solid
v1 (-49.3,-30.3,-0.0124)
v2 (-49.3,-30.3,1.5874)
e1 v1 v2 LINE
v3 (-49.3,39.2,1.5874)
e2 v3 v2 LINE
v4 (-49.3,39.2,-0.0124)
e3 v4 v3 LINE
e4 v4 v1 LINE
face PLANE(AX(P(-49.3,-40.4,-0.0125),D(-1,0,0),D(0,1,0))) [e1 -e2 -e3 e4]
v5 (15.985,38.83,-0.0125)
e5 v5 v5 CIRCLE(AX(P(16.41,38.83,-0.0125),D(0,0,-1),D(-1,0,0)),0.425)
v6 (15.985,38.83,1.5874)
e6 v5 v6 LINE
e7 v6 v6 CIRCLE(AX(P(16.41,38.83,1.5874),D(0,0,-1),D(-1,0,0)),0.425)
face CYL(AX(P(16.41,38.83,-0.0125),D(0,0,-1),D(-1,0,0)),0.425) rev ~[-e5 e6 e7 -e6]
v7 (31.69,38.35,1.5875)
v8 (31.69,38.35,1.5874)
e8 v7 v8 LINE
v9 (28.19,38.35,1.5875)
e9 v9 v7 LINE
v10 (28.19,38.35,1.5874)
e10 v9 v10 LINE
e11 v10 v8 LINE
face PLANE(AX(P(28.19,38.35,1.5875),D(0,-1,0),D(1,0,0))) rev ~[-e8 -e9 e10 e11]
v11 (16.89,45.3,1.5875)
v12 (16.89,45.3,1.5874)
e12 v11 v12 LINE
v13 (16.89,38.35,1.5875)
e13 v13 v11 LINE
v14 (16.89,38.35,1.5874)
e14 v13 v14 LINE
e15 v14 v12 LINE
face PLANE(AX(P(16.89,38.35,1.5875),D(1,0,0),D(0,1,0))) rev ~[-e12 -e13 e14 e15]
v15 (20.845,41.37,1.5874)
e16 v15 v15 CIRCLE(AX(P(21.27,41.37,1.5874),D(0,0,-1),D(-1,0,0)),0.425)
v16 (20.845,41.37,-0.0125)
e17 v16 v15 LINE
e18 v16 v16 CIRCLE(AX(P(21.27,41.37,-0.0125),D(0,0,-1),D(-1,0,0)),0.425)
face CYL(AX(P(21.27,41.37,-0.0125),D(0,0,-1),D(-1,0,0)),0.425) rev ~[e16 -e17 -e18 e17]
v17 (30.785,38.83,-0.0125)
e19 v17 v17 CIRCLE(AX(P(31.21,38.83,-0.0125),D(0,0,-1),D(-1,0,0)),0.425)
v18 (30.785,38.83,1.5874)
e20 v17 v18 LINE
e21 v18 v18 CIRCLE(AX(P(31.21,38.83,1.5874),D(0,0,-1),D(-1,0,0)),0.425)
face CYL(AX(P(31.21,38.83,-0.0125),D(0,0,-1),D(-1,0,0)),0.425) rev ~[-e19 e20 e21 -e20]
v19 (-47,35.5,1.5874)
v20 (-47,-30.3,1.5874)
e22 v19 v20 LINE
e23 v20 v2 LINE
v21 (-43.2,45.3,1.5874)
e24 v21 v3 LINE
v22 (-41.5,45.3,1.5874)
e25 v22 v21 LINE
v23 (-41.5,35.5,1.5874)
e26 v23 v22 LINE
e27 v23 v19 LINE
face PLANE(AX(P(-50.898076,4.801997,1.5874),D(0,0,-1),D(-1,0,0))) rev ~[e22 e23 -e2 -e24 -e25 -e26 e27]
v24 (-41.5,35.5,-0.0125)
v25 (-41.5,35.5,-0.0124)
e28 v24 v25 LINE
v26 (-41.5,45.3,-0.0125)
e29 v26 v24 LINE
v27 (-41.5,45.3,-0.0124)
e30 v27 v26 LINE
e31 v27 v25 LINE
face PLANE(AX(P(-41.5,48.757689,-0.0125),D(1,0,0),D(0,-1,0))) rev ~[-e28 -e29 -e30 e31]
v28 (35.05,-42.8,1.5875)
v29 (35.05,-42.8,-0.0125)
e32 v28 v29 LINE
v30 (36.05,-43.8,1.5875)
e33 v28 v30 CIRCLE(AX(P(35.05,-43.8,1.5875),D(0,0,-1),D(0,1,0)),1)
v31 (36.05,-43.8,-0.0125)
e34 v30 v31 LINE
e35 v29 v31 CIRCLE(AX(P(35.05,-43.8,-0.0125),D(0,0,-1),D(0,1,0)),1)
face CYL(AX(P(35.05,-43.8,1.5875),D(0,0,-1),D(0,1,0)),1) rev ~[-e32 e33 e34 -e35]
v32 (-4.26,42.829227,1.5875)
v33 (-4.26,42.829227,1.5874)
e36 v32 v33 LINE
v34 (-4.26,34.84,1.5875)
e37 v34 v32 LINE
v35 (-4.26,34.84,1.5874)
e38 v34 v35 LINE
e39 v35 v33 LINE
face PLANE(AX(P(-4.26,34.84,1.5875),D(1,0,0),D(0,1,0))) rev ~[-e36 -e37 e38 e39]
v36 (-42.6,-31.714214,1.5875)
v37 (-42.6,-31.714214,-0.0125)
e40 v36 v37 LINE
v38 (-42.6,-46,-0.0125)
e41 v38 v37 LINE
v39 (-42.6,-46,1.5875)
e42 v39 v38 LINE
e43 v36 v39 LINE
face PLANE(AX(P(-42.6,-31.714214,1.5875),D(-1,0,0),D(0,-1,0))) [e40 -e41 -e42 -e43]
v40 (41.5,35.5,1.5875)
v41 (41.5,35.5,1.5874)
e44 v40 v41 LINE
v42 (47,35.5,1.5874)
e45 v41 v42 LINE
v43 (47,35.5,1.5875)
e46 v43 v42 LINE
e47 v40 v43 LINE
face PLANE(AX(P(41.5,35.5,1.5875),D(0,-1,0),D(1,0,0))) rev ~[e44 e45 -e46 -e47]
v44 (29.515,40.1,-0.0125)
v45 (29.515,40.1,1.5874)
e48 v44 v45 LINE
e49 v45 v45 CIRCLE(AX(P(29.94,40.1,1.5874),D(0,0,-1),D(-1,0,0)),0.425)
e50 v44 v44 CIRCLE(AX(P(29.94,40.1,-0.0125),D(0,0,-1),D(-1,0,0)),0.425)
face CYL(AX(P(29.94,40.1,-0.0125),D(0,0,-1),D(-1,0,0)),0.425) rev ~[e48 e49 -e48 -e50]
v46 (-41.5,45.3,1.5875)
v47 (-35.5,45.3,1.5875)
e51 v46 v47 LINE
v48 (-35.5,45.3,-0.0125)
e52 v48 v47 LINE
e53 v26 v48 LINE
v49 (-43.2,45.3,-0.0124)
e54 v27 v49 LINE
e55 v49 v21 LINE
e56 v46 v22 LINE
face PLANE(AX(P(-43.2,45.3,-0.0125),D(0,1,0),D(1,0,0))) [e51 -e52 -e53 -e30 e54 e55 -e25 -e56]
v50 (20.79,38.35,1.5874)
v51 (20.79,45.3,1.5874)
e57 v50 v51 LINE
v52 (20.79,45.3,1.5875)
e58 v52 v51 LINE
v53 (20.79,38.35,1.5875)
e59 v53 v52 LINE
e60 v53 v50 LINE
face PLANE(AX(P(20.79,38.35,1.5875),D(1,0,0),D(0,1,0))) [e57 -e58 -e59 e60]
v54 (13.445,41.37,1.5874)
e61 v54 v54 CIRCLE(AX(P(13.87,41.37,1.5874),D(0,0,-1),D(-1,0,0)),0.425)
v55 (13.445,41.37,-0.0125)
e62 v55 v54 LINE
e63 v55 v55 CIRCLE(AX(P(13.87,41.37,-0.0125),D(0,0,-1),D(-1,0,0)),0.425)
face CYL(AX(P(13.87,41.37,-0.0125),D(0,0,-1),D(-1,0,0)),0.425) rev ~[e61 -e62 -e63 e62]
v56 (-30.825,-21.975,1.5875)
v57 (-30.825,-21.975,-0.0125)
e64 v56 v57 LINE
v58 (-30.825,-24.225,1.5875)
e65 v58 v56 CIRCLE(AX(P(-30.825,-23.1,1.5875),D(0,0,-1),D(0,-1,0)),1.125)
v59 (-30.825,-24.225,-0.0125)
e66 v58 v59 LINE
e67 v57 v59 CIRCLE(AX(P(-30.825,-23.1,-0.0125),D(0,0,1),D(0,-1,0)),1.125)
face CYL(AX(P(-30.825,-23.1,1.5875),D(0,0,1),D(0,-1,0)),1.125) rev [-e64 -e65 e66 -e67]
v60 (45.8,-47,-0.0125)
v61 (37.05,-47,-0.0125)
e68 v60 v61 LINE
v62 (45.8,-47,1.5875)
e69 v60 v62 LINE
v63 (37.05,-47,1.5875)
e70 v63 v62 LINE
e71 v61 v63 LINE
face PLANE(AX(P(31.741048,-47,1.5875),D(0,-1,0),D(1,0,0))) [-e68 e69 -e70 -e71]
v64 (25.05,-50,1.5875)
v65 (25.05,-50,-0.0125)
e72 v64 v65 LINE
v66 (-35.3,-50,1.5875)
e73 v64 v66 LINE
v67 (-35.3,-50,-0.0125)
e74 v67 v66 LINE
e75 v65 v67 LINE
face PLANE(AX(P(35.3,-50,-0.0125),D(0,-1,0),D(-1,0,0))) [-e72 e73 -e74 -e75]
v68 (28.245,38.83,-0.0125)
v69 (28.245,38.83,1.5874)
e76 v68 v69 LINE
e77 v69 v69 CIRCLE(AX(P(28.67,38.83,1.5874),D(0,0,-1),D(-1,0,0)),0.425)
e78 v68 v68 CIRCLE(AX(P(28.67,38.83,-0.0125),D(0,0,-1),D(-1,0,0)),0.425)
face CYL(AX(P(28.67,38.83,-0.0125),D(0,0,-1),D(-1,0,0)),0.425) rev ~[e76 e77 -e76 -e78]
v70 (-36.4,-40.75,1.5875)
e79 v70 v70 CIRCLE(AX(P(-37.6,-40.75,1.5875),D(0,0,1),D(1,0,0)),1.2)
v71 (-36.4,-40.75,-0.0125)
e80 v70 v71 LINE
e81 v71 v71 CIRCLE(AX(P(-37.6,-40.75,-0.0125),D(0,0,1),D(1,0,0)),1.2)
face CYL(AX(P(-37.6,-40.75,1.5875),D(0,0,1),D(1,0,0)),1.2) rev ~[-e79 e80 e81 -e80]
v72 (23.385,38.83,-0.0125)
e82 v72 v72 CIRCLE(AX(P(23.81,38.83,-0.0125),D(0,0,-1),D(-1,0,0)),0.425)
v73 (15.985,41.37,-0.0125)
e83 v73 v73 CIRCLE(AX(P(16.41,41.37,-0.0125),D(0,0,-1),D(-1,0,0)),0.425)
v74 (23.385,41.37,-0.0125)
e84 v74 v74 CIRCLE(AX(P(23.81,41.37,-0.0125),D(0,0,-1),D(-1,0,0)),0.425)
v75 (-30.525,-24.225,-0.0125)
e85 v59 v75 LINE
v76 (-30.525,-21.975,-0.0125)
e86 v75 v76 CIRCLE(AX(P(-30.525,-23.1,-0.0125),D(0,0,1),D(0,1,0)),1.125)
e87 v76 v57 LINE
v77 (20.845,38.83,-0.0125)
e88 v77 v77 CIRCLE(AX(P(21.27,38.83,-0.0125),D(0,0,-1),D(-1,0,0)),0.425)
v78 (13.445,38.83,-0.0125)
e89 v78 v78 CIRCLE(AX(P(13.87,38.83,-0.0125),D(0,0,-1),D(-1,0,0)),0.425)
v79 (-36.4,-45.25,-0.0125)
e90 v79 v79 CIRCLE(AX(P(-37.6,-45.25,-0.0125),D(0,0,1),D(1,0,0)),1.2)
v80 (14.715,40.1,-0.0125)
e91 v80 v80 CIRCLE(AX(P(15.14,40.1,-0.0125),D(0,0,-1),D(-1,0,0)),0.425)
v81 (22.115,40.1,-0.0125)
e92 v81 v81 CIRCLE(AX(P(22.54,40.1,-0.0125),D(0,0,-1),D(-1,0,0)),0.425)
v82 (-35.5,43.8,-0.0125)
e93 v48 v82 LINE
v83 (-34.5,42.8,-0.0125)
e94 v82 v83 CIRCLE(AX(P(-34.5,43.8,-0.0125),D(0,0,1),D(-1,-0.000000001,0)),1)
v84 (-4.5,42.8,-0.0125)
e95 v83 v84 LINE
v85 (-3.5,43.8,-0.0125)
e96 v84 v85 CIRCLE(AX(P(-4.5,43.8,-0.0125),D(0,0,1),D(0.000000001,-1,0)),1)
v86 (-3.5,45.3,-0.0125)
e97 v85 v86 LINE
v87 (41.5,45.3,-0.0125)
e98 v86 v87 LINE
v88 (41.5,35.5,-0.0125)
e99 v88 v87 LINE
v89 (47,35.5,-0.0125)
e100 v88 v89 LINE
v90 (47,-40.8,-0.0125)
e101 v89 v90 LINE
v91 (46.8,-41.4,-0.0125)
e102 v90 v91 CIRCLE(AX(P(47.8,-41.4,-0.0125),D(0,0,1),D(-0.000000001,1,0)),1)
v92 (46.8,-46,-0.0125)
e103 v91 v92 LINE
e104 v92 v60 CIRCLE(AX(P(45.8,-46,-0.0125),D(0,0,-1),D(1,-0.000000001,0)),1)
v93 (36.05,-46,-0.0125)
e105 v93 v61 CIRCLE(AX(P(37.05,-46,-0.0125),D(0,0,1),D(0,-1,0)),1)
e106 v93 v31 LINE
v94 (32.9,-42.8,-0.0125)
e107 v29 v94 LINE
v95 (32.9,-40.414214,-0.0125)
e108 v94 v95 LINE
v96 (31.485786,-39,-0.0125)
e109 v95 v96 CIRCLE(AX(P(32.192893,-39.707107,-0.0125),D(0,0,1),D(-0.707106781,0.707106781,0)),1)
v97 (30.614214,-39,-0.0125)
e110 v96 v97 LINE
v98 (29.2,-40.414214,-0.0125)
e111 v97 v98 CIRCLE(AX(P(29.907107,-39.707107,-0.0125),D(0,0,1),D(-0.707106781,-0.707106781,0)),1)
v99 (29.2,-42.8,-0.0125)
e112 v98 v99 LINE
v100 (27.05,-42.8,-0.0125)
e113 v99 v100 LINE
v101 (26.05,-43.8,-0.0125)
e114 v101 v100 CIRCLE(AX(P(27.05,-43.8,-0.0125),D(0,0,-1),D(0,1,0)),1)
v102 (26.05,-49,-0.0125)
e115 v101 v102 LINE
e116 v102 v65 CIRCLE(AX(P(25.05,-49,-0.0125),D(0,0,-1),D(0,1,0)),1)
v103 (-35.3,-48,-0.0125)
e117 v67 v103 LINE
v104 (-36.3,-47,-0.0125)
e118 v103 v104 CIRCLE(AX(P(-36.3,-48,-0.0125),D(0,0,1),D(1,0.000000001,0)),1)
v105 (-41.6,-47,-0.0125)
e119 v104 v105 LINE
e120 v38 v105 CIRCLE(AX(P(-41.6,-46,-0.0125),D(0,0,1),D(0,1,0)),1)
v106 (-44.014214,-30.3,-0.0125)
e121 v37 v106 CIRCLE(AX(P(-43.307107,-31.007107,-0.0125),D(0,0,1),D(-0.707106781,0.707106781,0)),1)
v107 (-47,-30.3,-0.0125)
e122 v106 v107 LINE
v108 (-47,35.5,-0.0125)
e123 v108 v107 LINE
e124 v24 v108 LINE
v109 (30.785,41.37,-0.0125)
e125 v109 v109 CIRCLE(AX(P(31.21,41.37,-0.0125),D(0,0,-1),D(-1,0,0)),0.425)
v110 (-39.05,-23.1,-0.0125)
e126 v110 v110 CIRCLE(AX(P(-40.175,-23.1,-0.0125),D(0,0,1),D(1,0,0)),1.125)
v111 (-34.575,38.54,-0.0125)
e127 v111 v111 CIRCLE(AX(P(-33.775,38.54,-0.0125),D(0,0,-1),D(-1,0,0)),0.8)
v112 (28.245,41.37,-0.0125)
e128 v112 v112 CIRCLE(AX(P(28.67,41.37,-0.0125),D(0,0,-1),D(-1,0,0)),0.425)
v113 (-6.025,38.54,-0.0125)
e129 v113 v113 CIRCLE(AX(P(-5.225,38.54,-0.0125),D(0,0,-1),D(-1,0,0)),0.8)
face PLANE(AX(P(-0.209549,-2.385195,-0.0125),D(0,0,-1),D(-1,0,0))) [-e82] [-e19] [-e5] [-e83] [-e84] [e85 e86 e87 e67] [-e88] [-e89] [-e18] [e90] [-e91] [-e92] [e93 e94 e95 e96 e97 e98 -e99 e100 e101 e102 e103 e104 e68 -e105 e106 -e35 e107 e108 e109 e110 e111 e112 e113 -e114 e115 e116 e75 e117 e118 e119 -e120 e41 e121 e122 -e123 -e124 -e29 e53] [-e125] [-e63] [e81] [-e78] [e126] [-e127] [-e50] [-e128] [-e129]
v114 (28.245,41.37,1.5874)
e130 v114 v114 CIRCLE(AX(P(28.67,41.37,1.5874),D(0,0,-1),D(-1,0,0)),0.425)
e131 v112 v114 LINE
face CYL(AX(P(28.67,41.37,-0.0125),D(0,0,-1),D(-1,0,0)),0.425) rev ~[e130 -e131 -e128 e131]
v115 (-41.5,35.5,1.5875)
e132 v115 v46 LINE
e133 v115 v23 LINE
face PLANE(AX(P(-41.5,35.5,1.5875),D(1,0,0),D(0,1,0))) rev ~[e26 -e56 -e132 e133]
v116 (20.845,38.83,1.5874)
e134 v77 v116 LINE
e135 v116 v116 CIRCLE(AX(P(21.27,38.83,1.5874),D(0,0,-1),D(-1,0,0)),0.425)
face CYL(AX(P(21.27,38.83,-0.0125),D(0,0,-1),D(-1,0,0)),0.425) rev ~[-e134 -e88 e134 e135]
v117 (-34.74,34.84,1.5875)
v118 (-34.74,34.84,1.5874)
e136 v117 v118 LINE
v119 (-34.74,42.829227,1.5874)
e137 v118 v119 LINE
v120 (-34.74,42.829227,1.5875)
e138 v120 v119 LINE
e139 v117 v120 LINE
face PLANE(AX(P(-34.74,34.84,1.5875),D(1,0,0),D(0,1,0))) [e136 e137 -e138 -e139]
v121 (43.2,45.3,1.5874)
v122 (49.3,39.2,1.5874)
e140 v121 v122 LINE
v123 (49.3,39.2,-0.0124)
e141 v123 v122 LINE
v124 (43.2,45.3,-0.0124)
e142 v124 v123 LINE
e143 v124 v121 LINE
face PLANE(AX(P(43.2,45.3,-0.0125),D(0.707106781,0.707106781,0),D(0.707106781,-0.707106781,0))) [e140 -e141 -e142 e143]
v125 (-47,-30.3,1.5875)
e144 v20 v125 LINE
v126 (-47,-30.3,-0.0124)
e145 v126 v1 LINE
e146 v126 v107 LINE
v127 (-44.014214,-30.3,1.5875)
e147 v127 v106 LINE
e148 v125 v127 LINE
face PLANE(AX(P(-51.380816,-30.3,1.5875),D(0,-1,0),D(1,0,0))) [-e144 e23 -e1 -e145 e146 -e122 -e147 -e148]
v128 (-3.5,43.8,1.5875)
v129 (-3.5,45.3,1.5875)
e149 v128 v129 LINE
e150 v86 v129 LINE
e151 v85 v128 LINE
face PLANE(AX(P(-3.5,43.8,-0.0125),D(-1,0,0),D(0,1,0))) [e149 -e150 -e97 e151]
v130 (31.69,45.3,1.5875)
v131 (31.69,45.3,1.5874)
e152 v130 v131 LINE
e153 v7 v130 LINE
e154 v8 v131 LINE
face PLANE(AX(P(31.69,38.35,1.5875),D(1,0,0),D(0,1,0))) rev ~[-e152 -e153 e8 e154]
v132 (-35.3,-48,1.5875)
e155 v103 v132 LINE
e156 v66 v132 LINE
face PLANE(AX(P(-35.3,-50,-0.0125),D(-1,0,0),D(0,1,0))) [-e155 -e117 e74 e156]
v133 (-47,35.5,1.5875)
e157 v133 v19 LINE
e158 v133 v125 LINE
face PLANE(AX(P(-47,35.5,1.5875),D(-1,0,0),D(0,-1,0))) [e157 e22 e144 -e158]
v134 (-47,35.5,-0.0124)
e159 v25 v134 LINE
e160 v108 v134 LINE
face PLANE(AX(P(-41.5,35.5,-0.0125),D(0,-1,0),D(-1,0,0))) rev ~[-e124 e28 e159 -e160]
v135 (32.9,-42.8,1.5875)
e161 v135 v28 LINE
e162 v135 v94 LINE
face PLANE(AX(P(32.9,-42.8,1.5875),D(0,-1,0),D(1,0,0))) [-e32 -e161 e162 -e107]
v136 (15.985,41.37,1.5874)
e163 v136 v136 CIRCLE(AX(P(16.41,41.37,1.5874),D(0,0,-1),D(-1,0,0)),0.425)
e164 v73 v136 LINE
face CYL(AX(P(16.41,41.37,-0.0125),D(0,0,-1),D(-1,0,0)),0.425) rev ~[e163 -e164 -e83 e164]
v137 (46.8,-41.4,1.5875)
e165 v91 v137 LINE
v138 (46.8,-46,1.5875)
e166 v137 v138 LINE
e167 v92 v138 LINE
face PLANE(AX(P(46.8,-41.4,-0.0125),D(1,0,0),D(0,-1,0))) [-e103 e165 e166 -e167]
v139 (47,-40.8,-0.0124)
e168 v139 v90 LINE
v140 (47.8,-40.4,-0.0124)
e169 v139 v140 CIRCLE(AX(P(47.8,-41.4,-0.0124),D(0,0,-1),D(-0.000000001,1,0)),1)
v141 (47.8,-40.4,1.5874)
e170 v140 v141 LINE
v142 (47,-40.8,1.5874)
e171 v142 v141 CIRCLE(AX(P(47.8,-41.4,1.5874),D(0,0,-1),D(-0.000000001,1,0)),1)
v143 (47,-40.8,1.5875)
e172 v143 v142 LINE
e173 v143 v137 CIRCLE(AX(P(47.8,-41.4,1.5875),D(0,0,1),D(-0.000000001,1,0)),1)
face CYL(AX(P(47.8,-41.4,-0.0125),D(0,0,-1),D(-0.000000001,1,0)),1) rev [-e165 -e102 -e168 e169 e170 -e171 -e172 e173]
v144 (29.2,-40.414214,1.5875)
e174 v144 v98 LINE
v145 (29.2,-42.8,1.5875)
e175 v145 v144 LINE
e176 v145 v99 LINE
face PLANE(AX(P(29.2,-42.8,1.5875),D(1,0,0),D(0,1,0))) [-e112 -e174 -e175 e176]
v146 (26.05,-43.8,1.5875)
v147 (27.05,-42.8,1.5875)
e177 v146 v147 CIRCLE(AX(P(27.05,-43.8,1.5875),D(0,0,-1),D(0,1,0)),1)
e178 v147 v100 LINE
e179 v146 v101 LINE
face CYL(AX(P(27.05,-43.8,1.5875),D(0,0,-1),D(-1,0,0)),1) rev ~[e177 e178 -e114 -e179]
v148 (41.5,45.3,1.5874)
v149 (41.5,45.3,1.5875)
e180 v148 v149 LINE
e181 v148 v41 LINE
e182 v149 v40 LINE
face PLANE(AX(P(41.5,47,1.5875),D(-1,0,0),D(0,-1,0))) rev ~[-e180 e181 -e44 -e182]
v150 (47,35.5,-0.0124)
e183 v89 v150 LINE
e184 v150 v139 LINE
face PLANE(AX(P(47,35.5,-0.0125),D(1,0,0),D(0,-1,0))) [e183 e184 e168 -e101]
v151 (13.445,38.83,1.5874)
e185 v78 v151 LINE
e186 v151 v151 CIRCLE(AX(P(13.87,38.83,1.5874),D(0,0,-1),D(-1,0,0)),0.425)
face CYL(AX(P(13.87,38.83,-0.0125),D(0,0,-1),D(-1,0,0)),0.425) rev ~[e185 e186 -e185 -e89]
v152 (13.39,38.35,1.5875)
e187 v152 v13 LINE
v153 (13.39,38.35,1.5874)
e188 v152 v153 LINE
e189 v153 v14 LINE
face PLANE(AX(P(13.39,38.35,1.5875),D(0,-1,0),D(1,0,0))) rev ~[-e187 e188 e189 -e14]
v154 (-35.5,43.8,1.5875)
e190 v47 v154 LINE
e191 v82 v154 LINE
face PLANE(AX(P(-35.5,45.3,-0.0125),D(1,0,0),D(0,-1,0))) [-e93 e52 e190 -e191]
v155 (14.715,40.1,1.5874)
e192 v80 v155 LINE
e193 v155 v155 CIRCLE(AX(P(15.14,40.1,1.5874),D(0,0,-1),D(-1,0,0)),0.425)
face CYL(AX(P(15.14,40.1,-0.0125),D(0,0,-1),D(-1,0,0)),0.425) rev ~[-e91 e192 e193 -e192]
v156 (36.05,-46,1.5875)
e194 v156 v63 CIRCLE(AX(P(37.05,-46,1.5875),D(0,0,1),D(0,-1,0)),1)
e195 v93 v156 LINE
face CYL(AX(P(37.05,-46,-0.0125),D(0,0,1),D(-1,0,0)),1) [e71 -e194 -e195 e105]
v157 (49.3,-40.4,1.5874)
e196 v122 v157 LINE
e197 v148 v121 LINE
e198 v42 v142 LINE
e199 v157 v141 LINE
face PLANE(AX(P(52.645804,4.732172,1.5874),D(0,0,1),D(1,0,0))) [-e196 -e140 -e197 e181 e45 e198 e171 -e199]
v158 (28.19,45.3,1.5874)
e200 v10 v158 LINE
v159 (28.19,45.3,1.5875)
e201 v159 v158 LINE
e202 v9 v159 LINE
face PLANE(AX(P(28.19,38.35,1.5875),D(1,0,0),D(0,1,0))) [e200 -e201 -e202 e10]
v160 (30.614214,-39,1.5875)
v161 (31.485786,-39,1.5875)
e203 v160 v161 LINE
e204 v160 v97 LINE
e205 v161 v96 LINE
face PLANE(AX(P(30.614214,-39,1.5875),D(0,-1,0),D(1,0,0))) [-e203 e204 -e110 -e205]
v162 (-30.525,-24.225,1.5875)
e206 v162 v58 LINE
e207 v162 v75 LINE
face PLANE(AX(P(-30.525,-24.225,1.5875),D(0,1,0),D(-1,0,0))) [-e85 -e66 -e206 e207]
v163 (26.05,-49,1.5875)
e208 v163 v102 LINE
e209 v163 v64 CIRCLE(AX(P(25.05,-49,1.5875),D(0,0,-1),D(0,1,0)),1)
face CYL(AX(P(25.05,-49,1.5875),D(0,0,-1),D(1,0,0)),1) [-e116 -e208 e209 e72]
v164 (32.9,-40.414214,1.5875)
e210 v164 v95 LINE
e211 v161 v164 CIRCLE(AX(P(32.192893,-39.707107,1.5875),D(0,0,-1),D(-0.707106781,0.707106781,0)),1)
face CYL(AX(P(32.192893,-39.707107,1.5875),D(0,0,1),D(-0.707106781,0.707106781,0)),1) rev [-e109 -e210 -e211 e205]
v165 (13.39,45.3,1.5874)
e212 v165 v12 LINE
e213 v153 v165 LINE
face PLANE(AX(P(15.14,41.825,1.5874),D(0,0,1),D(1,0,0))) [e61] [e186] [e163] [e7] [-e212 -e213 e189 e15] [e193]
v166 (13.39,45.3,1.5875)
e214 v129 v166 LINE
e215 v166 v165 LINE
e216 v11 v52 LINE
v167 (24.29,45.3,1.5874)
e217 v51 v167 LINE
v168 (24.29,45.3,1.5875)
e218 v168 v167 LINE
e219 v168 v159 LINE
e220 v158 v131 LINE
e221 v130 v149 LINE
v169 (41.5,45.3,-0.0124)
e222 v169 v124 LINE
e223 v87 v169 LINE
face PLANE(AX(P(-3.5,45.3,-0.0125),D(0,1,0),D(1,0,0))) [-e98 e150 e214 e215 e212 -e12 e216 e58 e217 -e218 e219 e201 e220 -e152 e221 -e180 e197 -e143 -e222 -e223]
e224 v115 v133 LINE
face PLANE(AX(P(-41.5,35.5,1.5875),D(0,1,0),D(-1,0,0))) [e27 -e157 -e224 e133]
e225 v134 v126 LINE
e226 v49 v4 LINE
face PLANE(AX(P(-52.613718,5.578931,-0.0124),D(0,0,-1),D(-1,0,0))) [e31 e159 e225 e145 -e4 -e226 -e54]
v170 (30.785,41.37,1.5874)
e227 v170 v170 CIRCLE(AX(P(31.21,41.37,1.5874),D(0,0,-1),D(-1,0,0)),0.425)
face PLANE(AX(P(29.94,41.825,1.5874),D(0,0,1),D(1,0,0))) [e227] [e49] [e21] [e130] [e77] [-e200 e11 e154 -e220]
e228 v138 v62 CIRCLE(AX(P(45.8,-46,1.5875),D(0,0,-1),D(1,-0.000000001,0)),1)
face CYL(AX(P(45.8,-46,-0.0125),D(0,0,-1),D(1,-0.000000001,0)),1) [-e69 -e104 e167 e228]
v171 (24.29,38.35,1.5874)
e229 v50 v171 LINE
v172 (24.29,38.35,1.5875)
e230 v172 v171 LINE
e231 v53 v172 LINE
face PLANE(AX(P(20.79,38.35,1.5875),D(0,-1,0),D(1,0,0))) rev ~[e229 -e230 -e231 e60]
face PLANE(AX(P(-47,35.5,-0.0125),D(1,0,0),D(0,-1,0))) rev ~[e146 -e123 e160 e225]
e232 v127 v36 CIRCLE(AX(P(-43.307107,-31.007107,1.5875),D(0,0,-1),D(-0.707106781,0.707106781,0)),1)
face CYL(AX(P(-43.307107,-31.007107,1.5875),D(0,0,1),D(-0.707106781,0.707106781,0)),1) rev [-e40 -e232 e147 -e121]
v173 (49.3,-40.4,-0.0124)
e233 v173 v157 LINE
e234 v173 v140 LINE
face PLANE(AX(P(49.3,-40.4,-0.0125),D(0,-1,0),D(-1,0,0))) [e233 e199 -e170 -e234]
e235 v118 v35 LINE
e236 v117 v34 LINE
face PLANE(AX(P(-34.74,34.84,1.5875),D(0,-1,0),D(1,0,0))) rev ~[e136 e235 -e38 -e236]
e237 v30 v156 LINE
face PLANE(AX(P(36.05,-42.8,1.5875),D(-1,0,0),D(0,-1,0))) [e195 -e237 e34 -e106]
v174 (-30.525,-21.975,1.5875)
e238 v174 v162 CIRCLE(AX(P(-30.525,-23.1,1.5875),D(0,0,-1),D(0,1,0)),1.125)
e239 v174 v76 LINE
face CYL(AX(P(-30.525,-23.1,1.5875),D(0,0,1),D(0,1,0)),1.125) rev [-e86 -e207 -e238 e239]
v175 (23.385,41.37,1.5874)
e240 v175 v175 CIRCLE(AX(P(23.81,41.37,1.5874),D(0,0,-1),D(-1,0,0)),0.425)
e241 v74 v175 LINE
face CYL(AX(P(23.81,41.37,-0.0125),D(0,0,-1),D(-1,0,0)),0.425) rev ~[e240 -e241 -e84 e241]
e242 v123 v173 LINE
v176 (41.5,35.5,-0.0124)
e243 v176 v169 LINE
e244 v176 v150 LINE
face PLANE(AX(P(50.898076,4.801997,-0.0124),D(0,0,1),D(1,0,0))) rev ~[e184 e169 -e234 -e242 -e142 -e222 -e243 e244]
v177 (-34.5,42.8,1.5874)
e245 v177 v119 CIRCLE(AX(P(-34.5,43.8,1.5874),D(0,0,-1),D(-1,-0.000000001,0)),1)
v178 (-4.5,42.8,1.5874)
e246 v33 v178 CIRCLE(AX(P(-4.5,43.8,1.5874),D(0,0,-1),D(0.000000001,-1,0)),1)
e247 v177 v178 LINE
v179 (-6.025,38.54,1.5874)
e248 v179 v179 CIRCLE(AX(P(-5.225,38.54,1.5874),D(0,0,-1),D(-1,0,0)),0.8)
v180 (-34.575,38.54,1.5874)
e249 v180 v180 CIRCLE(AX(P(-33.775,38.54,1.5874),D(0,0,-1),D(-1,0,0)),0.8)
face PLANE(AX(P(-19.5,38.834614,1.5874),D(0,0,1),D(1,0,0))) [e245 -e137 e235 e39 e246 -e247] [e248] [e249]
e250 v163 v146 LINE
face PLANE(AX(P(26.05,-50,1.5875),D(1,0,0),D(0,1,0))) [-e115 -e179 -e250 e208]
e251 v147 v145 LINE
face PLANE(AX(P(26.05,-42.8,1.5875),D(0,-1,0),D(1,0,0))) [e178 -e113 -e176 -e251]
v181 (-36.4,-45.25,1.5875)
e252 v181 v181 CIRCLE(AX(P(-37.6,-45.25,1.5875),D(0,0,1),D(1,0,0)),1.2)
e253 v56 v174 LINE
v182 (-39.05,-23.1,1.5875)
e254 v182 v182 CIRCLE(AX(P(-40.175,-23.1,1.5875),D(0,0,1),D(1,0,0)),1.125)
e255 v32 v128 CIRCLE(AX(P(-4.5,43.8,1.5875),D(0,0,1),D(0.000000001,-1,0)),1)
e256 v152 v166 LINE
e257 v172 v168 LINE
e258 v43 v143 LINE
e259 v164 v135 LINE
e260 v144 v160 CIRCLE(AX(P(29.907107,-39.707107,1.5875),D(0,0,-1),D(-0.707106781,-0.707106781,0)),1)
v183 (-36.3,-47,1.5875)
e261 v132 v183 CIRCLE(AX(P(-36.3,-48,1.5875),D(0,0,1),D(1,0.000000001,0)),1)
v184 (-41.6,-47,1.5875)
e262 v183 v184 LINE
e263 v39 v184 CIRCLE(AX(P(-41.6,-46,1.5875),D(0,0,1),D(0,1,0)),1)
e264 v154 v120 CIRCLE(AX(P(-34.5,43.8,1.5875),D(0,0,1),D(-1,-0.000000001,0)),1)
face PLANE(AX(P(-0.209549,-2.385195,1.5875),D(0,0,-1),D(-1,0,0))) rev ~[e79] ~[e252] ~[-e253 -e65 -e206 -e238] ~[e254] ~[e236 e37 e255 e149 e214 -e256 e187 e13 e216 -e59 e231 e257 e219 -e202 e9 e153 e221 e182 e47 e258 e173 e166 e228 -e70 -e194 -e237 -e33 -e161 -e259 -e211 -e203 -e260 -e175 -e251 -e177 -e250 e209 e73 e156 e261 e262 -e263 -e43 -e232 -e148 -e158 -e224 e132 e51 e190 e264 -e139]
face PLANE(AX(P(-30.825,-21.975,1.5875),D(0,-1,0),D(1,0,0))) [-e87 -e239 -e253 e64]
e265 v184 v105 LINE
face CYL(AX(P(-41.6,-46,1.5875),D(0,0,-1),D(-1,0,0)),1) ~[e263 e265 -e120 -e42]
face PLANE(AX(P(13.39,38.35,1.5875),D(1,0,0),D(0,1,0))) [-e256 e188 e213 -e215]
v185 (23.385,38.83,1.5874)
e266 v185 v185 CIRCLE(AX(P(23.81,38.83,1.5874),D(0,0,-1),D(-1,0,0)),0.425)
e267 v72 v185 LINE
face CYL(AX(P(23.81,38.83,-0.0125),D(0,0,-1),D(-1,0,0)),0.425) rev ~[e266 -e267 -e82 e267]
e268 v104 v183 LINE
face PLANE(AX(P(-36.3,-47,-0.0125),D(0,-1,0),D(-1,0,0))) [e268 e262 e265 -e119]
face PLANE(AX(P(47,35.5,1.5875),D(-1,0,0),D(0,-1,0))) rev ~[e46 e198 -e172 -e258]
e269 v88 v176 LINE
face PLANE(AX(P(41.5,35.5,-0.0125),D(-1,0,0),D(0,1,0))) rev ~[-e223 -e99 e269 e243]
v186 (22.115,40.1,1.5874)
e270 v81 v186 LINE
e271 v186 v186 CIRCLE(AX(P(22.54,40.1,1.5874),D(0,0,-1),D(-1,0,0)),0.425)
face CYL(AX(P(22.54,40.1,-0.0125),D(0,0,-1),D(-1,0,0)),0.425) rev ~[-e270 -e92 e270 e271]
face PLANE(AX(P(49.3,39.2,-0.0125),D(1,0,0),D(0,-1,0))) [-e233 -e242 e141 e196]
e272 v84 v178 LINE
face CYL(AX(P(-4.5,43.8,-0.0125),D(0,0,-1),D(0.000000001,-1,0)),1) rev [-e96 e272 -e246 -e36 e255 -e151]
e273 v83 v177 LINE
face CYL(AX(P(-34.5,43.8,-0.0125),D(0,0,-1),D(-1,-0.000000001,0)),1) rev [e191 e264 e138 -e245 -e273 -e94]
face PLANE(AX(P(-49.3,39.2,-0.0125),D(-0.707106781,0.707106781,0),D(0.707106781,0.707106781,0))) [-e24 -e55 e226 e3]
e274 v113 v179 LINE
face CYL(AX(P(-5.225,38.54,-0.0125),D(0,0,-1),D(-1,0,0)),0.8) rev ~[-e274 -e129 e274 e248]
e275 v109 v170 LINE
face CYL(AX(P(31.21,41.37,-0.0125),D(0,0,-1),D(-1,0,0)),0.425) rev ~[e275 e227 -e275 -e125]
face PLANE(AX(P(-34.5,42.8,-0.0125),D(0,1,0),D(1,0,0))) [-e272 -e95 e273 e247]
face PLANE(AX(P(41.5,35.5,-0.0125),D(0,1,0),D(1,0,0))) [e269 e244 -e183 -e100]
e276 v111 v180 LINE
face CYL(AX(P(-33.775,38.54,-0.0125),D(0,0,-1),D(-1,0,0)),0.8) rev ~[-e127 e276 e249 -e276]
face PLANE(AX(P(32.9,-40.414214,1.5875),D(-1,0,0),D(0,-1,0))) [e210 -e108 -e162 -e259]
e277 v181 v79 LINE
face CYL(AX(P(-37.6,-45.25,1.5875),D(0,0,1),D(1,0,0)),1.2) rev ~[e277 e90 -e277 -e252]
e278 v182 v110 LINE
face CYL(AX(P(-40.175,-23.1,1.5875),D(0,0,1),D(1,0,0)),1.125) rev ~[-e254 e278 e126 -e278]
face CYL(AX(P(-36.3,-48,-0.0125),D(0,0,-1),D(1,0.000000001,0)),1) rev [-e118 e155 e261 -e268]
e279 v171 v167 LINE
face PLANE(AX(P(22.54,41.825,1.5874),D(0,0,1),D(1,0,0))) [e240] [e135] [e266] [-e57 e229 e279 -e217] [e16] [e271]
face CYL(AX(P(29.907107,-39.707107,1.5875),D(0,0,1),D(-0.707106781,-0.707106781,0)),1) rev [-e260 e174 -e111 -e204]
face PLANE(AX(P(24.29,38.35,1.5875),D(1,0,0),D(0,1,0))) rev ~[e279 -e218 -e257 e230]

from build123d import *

# Parameters (mm, degrees)
SKETCH1_R           = 0.425
SKETCH1_R_2         = 0.8
BOSS_EXTRUDE1_DEPTH = 1.6
CUT_EXTRUDE1_DEPTH  = 0.0001
CUT_EXTRUDE2_DEPTH  = 0.0001
PARTFOOTPRINTS_W    = 30.48
PARTFOOTPRINTS_H    = 7.989227112
PARTFOOTPRINTS_W_2  = 3.5
PARTFOOTPRINTS_H_2  = 6.95
CUT_EXTRUDE3_DEPTH  = 0.0001
CUT_EXTRUDE4_DEPTH  = 2.6
SKETCH3_W           = 7.779754111
SKETCH3_H           = 5.155241991
CUT_EXTRUDE5_DEPTH  = 10
FILLET1_R           = 1
CUT_EXTRUDE6_DEPTH  = 2.6
FILLET2_R           = 1
SKETCH5_R           = 1.125
CUT_EXTRUDE7_DEPTH  = 2.6
SKETCH6_R           = 1.2
CUT_EXTRUDE8_DEPTH  = 2.6


with BuildPart() as part:
    # Sketch1 → Boss-Extrude1 (new body)
    with BuildSketch(Plane(origin=(0, 0, -0.0125), x_dir=(-1, 0, 0), z_dir=(0, 0, -1))):
        with BuildLine():
            Line((35.3, -50), (35.3, -48))
            ThreePointArc((35.3, -48), (35.592893219, -47.292893219), (36.3, -47))
            Line((36.3, -47), (45.8, -47))
            ThreePointArc((45.8, -47), (46.507106781, -46.707106781), (46.8, -46))
            Line((46.8, -46), (46.8, -41.4))
            ThreePointArc((46.8, -41.4), (47.092893219, -40.692893219), (47.8, -40.4))
            Line((47.8, -40.4), (49.3, -40.4))
            Line((49.3, -40.4), (49.3, 39.2))
            Line((49.3, 39.2), (43.2, 45.3))
            Line((43.2, 45.3), (35.500000002, 45.3))
            Line((35.500000002, 45.3), (35.500000002, 43.8))
            ThreePointArc((35.500000002, 43.8), (35.207106783, 43.092893219), (34.500000002, 42.8))
            Line((34.500000002, 42.8), (4.499999998, 42.8))
            ThreePointArc((4.499999998, 42.8), (3.792893217, 43.092893219), (3.499999998, 43.8))
            Line((3.499999998, 43.8), (3.499999998, 45.3))
            Line((3.499999998, 45.3), (-43.2, 45.3))
            Line((-43.2, 45.3), (-49.3, 39.2))
            Line((-49.3, 39.2), (-49.3, -40.4))
            Line((-49.3, -40.4), (-47.8, -40.4))
            ThreePointArc((-47.8, -40.4), (-47.092893219, -40.692893219), (-46.8, -41.4))
            Line((-46.8, -41.4), (-46.8, -46))
            ThreePointArc((-46.8, -46), (-46.507106781, -46.707106781), (-45.8, -47))
            Line((-45.8, -47), (-36.3, -47))
            ThreePointArc((-36.3, -47), (-35.592893219, -47.292893219), (-35.3, -48))
            Line((-35.3, -48), (-35.3, -50))
            Line((-35.3, -50), (35.3, -50))
        make_face()
        with Locations((-21.27, 41.37)):
            Circle(SKETCH1_R, mode=Mode.SUBTRACT)
        with Locations((-23.81, 41.37)):
            Circle(SKETCH1_R, mode=Mode.SUBTRACT)
        with Locations((-22.54, 40.1)):
            Circle(SKETCH1_R, mode=Mode.SUBTRACT)
        with Locations((-13.87, 41.37)):
            Circle(SKETCH1_R, mode=Mode.SUBTRACT)
        with Locations((-23.81, 38.83)):
            Circle(SKETCH1_R, mode=Mode.SUBTRACT)
        with Locations((-16.41, 41.37)):
            Circle(SKETCH1_R, mode=Mode.SUBTRACT)
        with Locations((-15.14, 40.1)):
            Circle(SKETCH1_R, mode=Mode.SUBTRACT)
        with Locations((-21.27, 38.83)):
            Circle(SKETCH1_R, mode=Mode.SUBTRACT)
        with Locations((-28.67, 41.37)):
            Circle(SKETCH1_R, mode=Mode.SUBTRACT)
        with Locations((-31.21, 41.37)):
            Circle(SKETCH1_R, mode=Mode.SUBTRACT)
        with Locations((-16.41, 38.83)):
            Circle(SKETCH1_R, mode=Mode.SUBTRACT)
        with Locations((-29.94, 40.1)):
            Circle(SKETCH1_R, mode=Mode.SUBTRACT)
        with Locations((-31.21, 38.83)):
            Circle(SKETCH1_R, mode=Mode.SUBTRACT)
        with Locations((-28.67, 38.83)):
            Circle(SKETCH1_R, mode=Mode.SUBTRACT)
        with Locations((33.775, 38.54)):
            Circle(SKETCH1_R_2, mode=Mode.SUBTRACT)
        with Locations((5.225, 38.54)):
            Circle(SKETCH1_R_2, mode=Mode.SUBTRACT)
        with Locations((-13.87, 38.83)):
            Circle(SKETCH1_R, mode=Mode.SUBTRACT)
    extrude(amount=-BOSS_EXTRUDE1_DEPTH)

    # thermalContacts_lower → Cut-Extrude1 (cut)
    with BuildSketch(Plane(origin=(0, 0, -0.0125), x_dir=(-1, 0, 0), z_dir=(0, 0, -1))):
        Polygon((47, 35.5), (47, -41.5), (59.827263463, -41.5), (59.827263463, 48.757689229), (41.5, 48.757689229), (41.5, 41.5), (41.5, 35.5), align=None)
        Polygon((-47, 35.5), (-47, -41.5), (-56.192158269, -41.5), (-56.192158269, 47), (-41.5, 47), (-41.5, 41.5), (-41.5, 35.5), align=None)
    extrude(amount=-CUT_EXTRUDE1_DEPTH, mode=Mode.SUBTRACT)

    # thermalContacts_upper → Cut-Extrude2 (cut)
    with BuildSketch(Plane.XY.offset(1.5875)):
        Polygon((-47, 35.5), (-47, -41.5), (-56.192158269, -41.5), (-56.192158269, 47), (-41.5, 47), (-41.5, 41.5), (-41.5, 35.5), align=None)
        Polygon((47, 35.5), (47, -41.5), (59.827263463, -41.5), (59.827263463, 47), (41.5, 47), (41.5, 41.5), (41.5, 35.5), align=None)
    extrude(amount=-CUT_EXTRUDE2_DEPTH, mode=Mode.SUBTRACT)

    # partFootprints → Cut-Extrude3 (cut)
    with BuildSketch(Plane.XY.offset(1.5875)):
        with Locations((-19.5, 38.834613556)):
            Rectangle(PARTFOOTPRINTS_W, PARTFOOTPRINTS_H)
        with Locations((15.14, 41.825)):
            Rectangle(PARTFOOTPRINTS_W_2, PARTFOOTPRINTS_H_2)
        with Locations((22.54, 41.825)):
            Rectangle(PARTFOOTPRINTS_W_2, PARTFOOTPRINTS_H_2)
        with Locations((29.94, 41.825)):
            Rectangle(PARTFOOTPRINTS_W_2, PARTFOOTPRINTS_H_2)
    extrude(amount=-CUT_EXTRUDE3_DEPTH, mode=Mode.SUBTRACT)

    # Sketch2 → Cut-Extrude4 (cut, through all)
    with BuildSketch(Plane.XY.offset(1.5875)):
        with BuildLine():
            Line((29.2, -42.8), (29.2, -40.414213562))
            ThreePointArc((29.2, -40.414213562), (29.2, -39), (30.614213562, -39))
            Line((30.614213562, -39), (31.485786438, -39))
            ThreePointArc((31.485786438, -39), (32.9, -39), (32.9, -40.414213562))
            Line((32.9, -40.414213562), (32.9, -42.8))
            Line((32.9, -42.8), (36.05, -42.8))
            Line((36.05, -42.8), (36.05, -50))
            Line((36.05, -50), (26.05, -50))
            Line((26.05, -50), (26.05, -42.8))
            Line((26.05, -42.8), (29.2, -42.8))
        make_face()
    extrude(amount=-CUT_EXTRUDE4_DEPTH, mode=Mode.SUBTRACT)

    # Sketch3 → Cut-Extrude5 (cut)
    with BuildSketch(Plane.XY.offset(1.5875)):
        with Locations((35.630924609, -49.577620995)):
            Rectangle(SKETCH3_W, SKETCH3_H)
    extrude(amount=-CUT_EXTRUDE5_DEPTH, mode=Mode.SUBTRACT)

    # Fillet1
    fillet1_edges = [part.edges().sort_by_distance(p)[0] for p in [
        (26.05, -50, 0.7875),
        (26.05, -42.8, 0.7875),
        (36.05, -42.8, 0.7875),
        (36.05, -47, 0.7875),
    ]]
    fillet(fillet1_edges, radius=FILLET1_R)

    # Sketch4 → Cut-Extrude6 (cut, through all)
    with BuildSketch(Plane.XY.offset(1.5875)):
        with BuildLine():
            Line((-51.38081647, -30.3), (-44.014213562, -30.3))
            ThreePointArc((-44.014213562, -30.3), (-42.6, -30.3), (-42.6, -31.714213562))
            Line((-42.6, -31.714213562), (-42.6, -47))
            Line((-42.6, -47), (-51.38081647, -47))
            Line((-51.38081647, -47), (-51.38081647, -30.3))
        make_face()
    extrude(amount=-CUT_EXTRUDE6_DEPTH, mode=Mode.SUBTRACT)

    # Fillet2
    fillet2_edges = [part.edges().sort_by_distance(p)[0] for p in [
        (-42.6, -47, 0.7875),
    ]]
    fillet(fillet2_edges, radius=FILLET2_R)

    # Sketch5 → Cut-Extrude7 (cut, through all)
    with BuildSketch(Plane.XY.offset(1.5875)):
        with Locations((-40.175, -23.1)):
            Circle(SKETCH5_R)
        with BuildLine():
            Line((-30.525, -24.225), (-30.825, -24.225))
            ThreePointArc((-30.825, -24.225), (-31.95, -23.1), (-30.825, -21.975))
            Line((-30.825, -21.975), (-30.525, -21.975))
            ThreePointArc((-30.525, -21.975), (-29.4, -23.1), (-30.525, -24.225))
        make_face()
    extrude(amount=-CUT_EXTRUDE7_DEPTH, mode=Mode.SUBTRACT)

    # Sketch6 → Cut-Extrude8 (cut, through all)
    with BuildSketch(Plane.XY.offset(1.5875)):
        with Locations((-37.6, -40.75)):
            Circle(SKETCH6_R)
        with Locations((-37.6, -45.25)):
            Circle(SKETCH6_R)
    extrude(amount=-CUT_EXTRUDE8_DEPTH, mode=Mode.SUBTRACT)


solid = part.part
